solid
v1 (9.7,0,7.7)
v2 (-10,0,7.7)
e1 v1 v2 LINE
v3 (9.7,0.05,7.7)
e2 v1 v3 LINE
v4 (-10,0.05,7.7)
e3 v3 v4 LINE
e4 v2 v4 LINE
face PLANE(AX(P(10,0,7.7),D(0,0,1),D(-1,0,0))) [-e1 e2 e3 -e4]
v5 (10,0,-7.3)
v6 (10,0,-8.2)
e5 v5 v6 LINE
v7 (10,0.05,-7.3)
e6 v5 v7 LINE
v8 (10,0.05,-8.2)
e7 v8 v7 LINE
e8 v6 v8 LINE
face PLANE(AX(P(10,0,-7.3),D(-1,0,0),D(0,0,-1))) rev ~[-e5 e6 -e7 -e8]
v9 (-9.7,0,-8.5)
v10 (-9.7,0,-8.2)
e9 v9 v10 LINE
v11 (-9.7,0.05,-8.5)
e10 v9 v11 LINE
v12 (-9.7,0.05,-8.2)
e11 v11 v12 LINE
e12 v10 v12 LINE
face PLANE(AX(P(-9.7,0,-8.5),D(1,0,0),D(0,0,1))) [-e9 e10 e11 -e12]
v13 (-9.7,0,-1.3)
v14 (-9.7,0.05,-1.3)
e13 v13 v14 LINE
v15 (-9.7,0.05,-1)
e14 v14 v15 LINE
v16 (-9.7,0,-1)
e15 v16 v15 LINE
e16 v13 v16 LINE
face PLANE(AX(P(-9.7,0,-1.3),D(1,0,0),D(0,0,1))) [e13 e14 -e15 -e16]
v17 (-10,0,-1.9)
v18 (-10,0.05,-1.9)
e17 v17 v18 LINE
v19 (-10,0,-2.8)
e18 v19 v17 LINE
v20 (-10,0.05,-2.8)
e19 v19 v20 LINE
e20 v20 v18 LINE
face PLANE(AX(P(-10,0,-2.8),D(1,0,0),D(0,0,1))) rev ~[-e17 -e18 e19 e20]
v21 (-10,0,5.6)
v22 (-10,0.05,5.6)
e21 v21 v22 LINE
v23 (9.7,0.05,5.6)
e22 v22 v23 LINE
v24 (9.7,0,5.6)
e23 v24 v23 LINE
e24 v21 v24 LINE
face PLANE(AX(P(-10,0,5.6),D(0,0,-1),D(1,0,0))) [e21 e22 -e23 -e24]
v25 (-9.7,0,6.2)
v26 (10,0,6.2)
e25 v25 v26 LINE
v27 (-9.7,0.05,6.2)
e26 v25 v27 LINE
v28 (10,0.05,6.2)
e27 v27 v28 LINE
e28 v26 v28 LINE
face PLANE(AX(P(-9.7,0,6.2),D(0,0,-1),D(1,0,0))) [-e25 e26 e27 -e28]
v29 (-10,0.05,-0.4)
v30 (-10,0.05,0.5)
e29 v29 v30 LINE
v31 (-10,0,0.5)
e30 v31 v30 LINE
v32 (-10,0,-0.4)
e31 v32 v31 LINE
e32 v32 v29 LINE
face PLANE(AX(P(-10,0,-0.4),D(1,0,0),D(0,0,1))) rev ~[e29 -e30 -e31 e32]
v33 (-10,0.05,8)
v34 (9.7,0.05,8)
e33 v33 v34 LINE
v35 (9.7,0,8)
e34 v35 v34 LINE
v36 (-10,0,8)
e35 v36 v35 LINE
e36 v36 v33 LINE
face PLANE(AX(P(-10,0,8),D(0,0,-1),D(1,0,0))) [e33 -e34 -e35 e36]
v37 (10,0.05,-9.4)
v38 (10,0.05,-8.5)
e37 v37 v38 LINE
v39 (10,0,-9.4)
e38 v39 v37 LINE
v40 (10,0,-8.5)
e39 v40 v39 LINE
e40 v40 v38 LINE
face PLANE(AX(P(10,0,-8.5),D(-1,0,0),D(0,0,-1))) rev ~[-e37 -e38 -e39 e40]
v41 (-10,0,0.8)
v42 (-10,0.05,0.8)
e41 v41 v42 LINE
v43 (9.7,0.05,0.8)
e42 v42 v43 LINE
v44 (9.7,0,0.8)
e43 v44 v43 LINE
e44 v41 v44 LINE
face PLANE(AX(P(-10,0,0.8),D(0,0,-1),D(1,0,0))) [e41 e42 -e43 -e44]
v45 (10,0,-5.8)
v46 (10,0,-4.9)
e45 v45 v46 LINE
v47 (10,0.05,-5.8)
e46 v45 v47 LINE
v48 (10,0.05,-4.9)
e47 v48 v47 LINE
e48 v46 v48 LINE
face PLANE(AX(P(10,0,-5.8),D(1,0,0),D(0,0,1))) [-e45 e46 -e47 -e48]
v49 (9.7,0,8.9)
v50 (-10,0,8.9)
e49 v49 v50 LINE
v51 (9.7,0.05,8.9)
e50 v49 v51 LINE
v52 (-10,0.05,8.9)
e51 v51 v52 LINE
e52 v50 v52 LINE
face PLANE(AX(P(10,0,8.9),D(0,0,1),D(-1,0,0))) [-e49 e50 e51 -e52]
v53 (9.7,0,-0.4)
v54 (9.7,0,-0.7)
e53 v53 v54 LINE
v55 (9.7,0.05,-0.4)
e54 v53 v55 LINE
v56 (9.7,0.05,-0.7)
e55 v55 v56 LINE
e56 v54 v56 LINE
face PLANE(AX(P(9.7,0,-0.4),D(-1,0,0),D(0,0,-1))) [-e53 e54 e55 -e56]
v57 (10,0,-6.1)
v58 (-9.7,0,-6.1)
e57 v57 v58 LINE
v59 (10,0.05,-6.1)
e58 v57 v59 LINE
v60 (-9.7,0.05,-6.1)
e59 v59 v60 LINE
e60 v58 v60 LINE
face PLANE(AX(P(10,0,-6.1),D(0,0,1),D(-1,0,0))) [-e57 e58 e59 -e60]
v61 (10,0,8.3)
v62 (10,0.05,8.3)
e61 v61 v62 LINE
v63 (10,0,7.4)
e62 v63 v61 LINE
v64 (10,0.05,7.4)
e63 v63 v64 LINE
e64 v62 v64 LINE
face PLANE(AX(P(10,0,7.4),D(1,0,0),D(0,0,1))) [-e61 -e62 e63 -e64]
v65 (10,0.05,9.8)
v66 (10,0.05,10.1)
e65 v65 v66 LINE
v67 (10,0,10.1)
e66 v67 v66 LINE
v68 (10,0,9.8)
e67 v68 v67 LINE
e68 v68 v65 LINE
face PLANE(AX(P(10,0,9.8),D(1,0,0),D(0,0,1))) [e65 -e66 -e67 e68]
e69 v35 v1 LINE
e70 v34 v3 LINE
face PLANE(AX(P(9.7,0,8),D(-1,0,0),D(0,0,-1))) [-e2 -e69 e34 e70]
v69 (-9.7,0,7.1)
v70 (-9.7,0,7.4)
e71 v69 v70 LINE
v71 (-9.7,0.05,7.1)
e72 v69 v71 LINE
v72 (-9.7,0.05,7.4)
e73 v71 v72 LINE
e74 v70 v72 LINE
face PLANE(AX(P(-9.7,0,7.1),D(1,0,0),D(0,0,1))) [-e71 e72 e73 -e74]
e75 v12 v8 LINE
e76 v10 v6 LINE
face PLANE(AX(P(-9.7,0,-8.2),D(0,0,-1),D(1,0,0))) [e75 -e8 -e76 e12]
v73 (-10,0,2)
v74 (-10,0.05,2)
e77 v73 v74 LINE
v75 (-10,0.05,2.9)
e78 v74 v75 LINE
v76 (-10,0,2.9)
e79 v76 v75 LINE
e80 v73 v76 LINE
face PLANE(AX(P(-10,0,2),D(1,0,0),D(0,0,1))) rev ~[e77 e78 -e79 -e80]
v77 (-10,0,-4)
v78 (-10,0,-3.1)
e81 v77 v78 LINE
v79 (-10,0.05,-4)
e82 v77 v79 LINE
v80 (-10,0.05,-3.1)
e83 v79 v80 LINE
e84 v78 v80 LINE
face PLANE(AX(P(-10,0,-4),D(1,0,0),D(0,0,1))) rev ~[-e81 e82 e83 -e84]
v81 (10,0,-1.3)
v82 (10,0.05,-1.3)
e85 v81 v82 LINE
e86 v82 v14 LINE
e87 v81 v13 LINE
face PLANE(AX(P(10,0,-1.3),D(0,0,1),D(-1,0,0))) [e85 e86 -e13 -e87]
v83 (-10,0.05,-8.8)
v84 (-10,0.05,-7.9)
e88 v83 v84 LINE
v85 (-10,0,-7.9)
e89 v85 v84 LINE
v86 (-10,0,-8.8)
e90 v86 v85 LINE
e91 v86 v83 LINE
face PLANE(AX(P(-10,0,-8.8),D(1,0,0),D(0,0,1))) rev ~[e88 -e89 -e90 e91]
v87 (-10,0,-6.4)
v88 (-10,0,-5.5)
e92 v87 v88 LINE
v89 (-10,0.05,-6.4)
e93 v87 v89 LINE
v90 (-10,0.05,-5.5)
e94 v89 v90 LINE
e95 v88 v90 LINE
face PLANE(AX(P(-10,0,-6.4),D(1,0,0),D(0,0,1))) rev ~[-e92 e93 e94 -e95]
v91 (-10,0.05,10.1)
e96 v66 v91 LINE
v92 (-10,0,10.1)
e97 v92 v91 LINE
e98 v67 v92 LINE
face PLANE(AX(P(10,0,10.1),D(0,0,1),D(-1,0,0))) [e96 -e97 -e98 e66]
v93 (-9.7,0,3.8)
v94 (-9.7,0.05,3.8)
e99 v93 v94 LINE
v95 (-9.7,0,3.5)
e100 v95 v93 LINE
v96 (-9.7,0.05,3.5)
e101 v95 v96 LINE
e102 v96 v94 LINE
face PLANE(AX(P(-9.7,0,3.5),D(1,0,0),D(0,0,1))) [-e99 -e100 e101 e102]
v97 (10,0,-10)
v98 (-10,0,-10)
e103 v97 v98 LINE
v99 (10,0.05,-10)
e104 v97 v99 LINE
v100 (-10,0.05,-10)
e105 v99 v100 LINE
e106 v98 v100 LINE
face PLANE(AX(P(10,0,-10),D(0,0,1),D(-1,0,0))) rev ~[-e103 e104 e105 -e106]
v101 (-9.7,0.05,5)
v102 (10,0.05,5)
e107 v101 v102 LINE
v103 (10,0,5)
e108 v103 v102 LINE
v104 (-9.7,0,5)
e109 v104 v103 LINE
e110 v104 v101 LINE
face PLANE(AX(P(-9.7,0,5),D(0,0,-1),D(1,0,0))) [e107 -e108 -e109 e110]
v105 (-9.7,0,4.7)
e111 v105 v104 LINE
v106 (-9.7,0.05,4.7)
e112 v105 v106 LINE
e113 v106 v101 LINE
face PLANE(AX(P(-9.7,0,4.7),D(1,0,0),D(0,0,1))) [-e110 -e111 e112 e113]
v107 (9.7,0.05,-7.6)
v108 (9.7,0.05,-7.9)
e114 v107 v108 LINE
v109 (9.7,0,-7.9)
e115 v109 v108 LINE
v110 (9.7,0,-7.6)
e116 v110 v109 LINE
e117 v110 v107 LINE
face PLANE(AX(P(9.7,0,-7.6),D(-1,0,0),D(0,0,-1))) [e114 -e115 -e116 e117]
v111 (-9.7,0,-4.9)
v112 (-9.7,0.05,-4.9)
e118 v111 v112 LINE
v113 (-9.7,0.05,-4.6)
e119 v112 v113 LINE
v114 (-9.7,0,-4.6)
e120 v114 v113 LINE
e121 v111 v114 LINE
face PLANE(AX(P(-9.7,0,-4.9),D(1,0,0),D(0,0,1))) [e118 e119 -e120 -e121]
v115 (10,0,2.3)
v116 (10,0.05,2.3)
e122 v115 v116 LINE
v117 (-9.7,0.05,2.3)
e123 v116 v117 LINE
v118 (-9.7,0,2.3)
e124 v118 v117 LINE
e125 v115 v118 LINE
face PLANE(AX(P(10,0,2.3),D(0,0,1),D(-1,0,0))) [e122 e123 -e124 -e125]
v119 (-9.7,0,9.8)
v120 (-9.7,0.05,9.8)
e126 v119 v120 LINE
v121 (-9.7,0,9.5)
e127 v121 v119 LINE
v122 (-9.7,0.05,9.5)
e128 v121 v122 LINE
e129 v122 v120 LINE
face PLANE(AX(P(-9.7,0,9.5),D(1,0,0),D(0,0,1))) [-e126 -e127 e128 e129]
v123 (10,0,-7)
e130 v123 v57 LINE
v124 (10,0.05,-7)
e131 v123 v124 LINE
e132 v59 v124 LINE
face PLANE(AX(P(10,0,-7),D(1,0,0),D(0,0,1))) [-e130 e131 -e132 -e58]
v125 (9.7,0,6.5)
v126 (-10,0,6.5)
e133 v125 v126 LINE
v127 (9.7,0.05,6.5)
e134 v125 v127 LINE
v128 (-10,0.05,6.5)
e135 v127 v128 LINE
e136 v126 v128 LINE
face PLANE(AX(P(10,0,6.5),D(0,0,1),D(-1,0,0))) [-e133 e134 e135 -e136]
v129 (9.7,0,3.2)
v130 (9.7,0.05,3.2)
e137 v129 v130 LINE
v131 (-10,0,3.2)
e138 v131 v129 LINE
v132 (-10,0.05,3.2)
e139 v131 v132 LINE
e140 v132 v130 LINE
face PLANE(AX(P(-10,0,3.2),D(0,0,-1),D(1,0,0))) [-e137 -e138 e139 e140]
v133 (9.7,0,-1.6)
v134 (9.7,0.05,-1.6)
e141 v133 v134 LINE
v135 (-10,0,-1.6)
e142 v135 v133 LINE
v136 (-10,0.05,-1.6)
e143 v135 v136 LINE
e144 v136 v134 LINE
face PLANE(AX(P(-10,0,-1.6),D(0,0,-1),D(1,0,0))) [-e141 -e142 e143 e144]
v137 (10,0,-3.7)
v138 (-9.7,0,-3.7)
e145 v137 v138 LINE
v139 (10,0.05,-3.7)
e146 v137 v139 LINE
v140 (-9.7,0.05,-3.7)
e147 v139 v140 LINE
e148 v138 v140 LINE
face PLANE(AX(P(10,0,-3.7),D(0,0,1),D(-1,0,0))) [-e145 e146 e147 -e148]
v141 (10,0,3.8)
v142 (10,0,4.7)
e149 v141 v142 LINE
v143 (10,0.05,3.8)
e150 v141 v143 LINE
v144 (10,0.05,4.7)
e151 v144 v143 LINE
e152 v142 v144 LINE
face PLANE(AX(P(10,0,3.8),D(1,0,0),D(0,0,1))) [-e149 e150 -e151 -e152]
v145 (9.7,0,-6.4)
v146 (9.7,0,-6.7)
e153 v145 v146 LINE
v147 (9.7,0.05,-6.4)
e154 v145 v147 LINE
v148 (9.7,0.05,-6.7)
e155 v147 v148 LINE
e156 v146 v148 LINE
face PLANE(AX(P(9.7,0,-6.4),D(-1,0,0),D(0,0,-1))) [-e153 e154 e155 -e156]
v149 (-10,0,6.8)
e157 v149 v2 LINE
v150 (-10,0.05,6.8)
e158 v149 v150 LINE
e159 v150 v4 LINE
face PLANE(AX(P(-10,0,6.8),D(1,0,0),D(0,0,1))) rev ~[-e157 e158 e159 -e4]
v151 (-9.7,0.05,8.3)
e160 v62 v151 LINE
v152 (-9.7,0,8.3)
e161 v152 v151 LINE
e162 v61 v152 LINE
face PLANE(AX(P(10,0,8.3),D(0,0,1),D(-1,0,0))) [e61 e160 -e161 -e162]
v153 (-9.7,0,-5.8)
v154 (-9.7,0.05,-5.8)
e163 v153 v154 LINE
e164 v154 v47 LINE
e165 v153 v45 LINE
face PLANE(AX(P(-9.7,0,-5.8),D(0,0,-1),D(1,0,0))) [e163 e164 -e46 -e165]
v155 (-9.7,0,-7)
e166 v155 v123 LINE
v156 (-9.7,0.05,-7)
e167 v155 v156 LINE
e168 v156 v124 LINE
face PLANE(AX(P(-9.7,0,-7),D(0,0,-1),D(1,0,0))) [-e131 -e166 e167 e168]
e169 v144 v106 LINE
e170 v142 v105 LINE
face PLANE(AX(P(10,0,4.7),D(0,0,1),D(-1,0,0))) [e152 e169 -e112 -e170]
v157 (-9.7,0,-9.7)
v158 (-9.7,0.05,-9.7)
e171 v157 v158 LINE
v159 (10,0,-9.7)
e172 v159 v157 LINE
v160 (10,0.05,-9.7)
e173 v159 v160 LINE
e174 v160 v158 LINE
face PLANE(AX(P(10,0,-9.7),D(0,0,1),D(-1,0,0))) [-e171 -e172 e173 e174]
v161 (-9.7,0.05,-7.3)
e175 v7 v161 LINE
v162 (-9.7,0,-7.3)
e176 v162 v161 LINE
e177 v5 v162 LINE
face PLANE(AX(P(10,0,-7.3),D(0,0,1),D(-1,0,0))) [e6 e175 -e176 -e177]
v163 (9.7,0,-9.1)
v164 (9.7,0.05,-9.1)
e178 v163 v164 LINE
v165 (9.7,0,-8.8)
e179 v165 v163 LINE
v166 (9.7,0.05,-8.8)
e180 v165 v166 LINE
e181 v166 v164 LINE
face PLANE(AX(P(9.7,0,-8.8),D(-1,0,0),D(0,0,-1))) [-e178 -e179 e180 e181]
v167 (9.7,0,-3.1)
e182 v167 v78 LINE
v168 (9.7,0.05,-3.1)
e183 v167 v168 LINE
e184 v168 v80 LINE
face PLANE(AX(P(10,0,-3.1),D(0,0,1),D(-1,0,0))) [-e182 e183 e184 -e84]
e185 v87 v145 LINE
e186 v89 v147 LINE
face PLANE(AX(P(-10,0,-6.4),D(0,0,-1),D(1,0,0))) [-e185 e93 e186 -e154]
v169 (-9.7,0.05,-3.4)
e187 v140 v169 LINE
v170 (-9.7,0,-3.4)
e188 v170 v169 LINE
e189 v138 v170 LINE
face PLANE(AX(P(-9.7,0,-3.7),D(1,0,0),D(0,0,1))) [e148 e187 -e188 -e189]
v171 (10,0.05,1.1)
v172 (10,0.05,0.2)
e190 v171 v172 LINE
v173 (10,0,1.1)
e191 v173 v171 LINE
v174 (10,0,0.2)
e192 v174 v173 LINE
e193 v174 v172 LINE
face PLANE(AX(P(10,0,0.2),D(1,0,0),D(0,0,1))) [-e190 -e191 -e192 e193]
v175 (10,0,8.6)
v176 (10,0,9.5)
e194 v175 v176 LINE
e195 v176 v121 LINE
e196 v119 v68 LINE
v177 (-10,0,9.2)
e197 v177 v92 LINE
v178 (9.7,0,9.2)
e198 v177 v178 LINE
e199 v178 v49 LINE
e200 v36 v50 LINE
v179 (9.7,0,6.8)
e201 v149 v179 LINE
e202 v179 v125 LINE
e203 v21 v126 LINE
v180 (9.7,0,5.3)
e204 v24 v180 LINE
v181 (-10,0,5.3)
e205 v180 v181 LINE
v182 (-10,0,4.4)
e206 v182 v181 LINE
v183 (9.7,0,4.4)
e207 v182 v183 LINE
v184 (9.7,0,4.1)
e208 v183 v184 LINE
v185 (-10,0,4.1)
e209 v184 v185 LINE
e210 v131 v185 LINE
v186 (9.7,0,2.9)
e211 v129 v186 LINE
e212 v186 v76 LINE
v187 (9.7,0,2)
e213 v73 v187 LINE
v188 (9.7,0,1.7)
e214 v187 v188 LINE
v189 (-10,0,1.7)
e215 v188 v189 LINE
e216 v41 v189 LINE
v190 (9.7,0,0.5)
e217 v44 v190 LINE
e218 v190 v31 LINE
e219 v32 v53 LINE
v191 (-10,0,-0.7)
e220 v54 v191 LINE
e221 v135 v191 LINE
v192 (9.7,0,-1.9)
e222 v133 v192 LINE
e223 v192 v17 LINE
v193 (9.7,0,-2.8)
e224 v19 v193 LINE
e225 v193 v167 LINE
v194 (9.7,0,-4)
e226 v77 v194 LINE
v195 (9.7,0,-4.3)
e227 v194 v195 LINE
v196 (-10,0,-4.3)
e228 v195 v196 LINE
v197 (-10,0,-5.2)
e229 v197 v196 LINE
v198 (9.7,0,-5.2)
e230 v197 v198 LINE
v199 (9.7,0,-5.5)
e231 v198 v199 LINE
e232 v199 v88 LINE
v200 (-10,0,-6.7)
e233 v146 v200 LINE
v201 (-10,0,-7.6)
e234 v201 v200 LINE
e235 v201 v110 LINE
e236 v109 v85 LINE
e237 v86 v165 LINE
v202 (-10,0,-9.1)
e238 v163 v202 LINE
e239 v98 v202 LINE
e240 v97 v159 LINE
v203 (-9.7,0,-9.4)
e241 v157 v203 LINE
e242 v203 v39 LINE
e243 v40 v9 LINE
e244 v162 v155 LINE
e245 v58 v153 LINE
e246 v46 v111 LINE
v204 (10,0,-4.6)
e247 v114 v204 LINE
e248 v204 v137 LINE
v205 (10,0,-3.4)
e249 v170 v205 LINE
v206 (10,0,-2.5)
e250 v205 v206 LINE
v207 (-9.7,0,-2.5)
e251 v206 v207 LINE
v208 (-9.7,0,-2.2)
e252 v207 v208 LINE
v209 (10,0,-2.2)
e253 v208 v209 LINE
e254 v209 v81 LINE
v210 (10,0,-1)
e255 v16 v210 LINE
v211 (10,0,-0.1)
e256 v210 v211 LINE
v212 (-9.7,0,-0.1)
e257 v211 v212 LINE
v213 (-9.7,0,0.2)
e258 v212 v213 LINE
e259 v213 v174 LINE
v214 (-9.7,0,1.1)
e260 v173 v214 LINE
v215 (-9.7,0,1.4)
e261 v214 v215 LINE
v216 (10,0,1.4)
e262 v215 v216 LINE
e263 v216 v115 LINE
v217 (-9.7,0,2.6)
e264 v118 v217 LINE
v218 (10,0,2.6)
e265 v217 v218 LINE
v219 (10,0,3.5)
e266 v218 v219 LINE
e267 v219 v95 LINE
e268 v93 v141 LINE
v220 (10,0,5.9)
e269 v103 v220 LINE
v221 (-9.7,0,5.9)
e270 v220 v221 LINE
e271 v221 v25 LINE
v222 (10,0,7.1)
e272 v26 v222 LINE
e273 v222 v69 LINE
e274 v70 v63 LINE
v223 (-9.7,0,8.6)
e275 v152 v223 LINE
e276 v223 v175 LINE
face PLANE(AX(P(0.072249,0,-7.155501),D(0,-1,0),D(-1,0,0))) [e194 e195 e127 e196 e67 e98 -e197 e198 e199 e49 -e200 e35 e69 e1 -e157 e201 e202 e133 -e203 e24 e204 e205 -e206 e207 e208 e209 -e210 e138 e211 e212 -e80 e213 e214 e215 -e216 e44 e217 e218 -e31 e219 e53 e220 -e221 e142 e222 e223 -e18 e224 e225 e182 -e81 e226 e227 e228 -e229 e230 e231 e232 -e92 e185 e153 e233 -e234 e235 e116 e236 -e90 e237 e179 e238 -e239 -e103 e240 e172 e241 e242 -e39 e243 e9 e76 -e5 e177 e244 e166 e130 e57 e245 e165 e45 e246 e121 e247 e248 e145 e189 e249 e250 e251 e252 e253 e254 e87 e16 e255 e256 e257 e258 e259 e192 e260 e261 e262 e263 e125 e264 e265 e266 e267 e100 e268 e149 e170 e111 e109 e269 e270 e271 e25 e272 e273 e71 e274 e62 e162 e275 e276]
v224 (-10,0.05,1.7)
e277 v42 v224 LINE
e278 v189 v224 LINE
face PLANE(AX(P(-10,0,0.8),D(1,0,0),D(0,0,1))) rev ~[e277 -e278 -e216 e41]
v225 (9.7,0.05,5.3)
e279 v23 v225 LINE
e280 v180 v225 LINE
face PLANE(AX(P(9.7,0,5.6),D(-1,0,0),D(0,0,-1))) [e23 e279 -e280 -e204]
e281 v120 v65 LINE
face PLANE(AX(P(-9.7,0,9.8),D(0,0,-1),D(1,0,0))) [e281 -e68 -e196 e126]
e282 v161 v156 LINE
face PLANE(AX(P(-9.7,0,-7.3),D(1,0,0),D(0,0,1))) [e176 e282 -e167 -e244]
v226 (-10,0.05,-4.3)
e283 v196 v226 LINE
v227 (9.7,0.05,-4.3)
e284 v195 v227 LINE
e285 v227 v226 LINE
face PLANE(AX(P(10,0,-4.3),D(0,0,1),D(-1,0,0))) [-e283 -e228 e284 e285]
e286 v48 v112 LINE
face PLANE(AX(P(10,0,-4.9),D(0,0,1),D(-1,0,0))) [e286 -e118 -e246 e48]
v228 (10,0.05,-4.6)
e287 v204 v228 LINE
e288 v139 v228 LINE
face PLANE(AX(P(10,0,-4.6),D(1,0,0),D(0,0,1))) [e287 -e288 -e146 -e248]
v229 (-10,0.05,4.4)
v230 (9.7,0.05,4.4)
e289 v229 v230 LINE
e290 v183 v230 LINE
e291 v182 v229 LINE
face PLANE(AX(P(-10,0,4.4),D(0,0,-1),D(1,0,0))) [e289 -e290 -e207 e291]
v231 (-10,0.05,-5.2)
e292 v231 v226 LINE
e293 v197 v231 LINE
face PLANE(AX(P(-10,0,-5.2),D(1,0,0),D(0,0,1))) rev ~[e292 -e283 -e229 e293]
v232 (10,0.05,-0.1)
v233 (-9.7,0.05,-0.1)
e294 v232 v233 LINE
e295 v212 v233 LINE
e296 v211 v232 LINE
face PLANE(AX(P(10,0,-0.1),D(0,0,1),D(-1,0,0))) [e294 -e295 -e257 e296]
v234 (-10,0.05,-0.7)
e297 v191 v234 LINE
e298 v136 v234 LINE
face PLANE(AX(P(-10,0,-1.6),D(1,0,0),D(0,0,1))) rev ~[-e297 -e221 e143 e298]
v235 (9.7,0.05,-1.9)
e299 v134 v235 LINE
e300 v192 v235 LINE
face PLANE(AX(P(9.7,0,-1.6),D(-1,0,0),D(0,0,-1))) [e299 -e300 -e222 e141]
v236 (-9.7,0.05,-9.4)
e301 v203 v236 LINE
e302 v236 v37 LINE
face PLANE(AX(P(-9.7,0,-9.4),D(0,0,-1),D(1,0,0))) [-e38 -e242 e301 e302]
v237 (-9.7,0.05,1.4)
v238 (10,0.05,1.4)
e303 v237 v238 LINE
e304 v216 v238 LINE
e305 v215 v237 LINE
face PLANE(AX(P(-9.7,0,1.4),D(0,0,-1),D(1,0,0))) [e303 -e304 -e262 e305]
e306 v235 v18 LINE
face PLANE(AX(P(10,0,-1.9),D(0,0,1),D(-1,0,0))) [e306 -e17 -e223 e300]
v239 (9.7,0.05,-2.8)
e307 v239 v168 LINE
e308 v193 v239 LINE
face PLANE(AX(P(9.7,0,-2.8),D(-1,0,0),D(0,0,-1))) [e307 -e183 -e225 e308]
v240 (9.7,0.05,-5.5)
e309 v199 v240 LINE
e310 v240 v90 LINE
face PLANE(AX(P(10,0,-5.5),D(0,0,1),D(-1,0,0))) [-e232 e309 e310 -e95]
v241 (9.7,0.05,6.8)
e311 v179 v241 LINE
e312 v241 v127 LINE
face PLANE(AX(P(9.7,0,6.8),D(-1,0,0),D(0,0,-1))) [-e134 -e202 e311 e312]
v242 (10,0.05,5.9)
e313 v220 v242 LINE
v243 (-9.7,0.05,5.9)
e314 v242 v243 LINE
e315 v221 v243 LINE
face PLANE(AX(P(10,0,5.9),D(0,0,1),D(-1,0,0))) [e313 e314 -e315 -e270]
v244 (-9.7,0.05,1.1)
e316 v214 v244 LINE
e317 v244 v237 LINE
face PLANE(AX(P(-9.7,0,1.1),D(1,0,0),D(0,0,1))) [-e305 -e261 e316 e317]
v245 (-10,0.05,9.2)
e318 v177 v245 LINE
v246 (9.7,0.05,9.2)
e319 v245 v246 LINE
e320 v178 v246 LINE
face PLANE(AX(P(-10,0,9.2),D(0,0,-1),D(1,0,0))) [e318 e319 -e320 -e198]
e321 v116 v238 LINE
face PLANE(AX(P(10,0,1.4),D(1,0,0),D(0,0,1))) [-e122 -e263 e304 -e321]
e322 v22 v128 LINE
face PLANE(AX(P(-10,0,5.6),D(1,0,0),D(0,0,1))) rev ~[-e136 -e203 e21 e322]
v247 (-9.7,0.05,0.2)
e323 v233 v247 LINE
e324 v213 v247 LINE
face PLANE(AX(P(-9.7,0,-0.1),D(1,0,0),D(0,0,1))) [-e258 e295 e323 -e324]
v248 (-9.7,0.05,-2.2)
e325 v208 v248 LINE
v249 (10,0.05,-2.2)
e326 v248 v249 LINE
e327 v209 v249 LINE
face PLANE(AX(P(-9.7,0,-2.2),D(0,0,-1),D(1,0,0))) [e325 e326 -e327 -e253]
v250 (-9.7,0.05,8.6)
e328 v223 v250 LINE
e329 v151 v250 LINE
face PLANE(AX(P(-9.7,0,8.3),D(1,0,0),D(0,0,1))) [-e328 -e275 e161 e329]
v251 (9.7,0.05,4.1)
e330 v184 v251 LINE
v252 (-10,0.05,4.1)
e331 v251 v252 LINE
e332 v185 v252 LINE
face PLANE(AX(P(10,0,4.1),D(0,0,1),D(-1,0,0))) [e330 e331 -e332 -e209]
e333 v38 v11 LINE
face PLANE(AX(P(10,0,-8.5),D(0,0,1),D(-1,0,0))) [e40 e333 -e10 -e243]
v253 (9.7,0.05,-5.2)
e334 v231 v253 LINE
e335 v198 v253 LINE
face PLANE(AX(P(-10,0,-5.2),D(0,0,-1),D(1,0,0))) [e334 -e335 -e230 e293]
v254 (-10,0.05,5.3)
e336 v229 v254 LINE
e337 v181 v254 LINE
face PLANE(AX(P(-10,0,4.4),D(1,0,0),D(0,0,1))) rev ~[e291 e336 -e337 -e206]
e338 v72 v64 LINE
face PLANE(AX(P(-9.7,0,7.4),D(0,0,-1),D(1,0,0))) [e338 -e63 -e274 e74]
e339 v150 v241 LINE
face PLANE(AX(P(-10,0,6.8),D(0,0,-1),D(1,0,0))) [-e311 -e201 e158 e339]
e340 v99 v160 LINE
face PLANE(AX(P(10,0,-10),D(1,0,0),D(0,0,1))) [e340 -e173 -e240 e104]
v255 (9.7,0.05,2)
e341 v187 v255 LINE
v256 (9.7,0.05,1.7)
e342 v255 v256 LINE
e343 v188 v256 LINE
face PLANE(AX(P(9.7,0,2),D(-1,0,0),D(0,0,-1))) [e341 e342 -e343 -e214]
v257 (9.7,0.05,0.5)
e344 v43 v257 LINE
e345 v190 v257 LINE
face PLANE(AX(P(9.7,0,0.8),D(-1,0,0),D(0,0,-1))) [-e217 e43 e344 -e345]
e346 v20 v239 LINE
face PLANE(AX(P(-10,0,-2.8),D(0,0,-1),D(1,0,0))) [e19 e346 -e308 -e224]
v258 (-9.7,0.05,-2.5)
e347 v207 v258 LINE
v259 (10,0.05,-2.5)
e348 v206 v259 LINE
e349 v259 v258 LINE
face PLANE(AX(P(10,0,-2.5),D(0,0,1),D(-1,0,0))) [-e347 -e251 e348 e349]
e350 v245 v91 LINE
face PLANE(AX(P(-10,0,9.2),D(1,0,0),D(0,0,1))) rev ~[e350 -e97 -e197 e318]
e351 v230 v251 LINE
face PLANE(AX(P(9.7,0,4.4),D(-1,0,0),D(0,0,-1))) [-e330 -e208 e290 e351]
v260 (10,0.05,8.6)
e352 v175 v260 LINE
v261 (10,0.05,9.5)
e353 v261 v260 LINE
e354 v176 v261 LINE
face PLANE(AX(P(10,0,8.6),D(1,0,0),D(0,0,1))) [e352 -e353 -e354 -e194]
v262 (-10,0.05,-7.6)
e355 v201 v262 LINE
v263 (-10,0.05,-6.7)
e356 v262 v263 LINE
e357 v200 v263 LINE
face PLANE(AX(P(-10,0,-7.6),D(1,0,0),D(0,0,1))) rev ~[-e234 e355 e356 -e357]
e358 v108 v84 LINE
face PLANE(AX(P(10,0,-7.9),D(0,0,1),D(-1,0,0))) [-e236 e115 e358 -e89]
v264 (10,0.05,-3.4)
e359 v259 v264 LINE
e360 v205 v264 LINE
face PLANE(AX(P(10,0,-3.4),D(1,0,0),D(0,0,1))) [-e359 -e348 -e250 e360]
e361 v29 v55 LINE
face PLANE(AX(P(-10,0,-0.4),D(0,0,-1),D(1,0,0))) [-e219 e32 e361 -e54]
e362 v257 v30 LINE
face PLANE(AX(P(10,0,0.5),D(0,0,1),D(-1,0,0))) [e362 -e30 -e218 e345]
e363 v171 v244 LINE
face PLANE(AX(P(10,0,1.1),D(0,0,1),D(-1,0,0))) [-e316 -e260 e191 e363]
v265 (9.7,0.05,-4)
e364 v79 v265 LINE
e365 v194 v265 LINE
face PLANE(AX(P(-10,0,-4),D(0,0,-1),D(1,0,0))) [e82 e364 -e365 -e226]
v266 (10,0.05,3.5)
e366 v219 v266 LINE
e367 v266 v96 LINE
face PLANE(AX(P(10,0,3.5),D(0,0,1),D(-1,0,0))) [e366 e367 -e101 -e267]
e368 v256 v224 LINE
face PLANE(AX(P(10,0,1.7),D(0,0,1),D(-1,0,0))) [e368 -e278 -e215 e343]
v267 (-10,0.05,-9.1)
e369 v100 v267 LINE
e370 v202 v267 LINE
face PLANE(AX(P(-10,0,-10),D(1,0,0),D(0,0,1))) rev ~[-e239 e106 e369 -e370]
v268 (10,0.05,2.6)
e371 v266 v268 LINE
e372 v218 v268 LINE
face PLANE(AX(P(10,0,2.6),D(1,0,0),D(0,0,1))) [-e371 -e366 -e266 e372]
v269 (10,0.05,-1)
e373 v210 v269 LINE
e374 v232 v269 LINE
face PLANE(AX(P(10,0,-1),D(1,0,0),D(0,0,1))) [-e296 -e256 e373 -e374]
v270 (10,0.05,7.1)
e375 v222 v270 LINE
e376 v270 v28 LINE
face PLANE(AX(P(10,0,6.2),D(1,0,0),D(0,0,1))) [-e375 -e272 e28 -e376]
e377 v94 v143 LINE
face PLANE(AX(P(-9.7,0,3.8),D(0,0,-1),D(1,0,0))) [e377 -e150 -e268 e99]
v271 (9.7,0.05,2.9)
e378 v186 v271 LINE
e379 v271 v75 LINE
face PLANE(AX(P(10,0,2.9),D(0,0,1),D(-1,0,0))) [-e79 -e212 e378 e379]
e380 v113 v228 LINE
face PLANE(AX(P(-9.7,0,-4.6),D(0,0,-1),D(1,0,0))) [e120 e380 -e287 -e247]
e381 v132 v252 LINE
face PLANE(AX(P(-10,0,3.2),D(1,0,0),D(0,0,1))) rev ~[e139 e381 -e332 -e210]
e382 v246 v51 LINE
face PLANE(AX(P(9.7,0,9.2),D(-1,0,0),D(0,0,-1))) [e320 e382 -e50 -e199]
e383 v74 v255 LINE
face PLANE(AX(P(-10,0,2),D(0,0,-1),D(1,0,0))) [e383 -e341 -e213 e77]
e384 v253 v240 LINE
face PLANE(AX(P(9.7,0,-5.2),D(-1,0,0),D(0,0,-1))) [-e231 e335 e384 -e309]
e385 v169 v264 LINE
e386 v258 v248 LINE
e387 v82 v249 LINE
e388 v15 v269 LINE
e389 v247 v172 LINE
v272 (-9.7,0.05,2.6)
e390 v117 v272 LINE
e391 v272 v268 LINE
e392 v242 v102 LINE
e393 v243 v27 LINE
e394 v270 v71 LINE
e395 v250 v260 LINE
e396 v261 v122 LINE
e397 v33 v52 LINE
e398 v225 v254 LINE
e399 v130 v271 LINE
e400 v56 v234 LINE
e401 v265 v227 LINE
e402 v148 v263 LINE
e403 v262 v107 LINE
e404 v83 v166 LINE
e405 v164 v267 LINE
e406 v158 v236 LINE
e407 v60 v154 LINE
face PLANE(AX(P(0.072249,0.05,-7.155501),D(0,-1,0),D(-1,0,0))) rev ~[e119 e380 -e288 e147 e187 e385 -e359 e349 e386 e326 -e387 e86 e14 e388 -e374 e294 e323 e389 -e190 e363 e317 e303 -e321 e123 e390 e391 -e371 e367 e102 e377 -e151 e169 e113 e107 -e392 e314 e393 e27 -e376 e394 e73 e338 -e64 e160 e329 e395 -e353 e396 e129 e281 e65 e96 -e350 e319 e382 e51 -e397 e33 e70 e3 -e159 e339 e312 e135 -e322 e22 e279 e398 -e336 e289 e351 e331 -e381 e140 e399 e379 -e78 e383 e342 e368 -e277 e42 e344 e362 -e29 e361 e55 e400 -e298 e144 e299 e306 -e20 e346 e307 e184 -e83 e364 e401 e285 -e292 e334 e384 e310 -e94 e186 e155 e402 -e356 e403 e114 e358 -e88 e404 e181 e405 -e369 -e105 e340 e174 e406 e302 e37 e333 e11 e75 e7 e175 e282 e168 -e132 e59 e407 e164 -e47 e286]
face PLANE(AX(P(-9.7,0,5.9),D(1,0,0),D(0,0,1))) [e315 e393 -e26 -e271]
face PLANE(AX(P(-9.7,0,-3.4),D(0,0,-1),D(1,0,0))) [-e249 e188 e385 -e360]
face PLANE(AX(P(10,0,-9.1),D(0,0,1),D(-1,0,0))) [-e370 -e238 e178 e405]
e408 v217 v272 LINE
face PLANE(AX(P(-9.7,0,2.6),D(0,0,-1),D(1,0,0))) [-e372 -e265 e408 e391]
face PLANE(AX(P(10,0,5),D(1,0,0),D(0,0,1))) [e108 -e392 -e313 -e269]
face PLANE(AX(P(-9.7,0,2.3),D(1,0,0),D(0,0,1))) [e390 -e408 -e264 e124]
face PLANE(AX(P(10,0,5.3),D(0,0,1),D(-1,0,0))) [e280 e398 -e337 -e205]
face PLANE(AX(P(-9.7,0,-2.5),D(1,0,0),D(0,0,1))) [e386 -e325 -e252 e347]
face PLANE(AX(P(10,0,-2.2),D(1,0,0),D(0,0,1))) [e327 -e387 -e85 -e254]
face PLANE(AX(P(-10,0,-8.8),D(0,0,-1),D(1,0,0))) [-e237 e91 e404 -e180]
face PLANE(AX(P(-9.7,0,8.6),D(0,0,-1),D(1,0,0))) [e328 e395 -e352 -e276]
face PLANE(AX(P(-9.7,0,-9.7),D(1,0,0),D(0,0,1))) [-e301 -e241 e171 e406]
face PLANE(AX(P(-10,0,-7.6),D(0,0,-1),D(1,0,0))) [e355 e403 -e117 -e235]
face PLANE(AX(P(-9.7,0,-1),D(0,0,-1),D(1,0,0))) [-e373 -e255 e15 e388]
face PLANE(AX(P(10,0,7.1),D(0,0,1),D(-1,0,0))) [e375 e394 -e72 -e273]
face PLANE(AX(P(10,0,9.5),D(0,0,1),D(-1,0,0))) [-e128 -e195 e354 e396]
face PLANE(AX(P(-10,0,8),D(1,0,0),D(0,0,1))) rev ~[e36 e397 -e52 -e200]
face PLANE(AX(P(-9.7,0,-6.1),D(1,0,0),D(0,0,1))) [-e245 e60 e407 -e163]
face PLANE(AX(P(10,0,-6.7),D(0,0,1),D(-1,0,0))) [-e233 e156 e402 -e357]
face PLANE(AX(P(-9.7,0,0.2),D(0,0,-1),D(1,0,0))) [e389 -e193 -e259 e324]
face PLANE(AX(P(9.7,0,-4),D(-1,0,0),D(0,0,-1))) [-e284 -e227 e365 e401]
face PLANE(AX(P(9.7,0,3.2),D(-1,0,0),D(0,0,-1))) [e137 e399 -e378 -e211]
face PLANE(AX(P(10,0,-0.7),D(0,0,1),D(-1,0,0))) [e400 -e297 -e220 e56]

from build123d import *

# Parameters (mm, degrees)
EXTRUDED_OBJECT_DEPTH = 0.05
BOSS_EXTRUDE1_DEPTH   = 0.05
LPATTERN1_COUNT       = 16
LPATTERN1_PITCH       = 1.2


with BuildPart() as part:
    # TopBlock → Extruded object (new body)
    with BuildSketch(Plane(origin=(0, 0, 0), x_dir=(1, 0, 0), z_dir=(0, 1, 0))):
        Polygon((-10, 10), (-9.7, 10), (10, 10), (10, 9.7), (-9.7, 9.7), (-9.7, 9.4), (10, 9.4), (10, 9.1), (-10, 9.1), (-10, 9.4), (-10, 9.7), align=None)
    extrude(amount=EXTRUDED_OBJECT_DEPTH)

    # Sketch2 → Boss-Extrude1 (add)
    with BuildSketch(Plane(origin=(0, 0, 0), x_dir=(1, 0, 0), z_dir=(0, 1, 0))):
        Polygon((10, 9.1), (10, 8.8), (10, 8.5), (-9.7, 8.5), (-9.7, 8.2), (10, 8.2), (10, 7.9), (-10, 7.9), (-10, 8.2), (-10, 8.5), (-10, 8.8), (9.7, 8.8), (9.7, 9.1), align=None)
    boss_extrude1 = extrude(amount=BOSS_EXTRUDE1_DEPTH)

    # LPattern1: Boss-Extrude1 ×16
    with Locations(*[(0, 0, i * LPATTERN1_PITCH) for i in range(1, LPATTERN1_COUNT)]):
        add(boss_extrude1)


solid = part.part
